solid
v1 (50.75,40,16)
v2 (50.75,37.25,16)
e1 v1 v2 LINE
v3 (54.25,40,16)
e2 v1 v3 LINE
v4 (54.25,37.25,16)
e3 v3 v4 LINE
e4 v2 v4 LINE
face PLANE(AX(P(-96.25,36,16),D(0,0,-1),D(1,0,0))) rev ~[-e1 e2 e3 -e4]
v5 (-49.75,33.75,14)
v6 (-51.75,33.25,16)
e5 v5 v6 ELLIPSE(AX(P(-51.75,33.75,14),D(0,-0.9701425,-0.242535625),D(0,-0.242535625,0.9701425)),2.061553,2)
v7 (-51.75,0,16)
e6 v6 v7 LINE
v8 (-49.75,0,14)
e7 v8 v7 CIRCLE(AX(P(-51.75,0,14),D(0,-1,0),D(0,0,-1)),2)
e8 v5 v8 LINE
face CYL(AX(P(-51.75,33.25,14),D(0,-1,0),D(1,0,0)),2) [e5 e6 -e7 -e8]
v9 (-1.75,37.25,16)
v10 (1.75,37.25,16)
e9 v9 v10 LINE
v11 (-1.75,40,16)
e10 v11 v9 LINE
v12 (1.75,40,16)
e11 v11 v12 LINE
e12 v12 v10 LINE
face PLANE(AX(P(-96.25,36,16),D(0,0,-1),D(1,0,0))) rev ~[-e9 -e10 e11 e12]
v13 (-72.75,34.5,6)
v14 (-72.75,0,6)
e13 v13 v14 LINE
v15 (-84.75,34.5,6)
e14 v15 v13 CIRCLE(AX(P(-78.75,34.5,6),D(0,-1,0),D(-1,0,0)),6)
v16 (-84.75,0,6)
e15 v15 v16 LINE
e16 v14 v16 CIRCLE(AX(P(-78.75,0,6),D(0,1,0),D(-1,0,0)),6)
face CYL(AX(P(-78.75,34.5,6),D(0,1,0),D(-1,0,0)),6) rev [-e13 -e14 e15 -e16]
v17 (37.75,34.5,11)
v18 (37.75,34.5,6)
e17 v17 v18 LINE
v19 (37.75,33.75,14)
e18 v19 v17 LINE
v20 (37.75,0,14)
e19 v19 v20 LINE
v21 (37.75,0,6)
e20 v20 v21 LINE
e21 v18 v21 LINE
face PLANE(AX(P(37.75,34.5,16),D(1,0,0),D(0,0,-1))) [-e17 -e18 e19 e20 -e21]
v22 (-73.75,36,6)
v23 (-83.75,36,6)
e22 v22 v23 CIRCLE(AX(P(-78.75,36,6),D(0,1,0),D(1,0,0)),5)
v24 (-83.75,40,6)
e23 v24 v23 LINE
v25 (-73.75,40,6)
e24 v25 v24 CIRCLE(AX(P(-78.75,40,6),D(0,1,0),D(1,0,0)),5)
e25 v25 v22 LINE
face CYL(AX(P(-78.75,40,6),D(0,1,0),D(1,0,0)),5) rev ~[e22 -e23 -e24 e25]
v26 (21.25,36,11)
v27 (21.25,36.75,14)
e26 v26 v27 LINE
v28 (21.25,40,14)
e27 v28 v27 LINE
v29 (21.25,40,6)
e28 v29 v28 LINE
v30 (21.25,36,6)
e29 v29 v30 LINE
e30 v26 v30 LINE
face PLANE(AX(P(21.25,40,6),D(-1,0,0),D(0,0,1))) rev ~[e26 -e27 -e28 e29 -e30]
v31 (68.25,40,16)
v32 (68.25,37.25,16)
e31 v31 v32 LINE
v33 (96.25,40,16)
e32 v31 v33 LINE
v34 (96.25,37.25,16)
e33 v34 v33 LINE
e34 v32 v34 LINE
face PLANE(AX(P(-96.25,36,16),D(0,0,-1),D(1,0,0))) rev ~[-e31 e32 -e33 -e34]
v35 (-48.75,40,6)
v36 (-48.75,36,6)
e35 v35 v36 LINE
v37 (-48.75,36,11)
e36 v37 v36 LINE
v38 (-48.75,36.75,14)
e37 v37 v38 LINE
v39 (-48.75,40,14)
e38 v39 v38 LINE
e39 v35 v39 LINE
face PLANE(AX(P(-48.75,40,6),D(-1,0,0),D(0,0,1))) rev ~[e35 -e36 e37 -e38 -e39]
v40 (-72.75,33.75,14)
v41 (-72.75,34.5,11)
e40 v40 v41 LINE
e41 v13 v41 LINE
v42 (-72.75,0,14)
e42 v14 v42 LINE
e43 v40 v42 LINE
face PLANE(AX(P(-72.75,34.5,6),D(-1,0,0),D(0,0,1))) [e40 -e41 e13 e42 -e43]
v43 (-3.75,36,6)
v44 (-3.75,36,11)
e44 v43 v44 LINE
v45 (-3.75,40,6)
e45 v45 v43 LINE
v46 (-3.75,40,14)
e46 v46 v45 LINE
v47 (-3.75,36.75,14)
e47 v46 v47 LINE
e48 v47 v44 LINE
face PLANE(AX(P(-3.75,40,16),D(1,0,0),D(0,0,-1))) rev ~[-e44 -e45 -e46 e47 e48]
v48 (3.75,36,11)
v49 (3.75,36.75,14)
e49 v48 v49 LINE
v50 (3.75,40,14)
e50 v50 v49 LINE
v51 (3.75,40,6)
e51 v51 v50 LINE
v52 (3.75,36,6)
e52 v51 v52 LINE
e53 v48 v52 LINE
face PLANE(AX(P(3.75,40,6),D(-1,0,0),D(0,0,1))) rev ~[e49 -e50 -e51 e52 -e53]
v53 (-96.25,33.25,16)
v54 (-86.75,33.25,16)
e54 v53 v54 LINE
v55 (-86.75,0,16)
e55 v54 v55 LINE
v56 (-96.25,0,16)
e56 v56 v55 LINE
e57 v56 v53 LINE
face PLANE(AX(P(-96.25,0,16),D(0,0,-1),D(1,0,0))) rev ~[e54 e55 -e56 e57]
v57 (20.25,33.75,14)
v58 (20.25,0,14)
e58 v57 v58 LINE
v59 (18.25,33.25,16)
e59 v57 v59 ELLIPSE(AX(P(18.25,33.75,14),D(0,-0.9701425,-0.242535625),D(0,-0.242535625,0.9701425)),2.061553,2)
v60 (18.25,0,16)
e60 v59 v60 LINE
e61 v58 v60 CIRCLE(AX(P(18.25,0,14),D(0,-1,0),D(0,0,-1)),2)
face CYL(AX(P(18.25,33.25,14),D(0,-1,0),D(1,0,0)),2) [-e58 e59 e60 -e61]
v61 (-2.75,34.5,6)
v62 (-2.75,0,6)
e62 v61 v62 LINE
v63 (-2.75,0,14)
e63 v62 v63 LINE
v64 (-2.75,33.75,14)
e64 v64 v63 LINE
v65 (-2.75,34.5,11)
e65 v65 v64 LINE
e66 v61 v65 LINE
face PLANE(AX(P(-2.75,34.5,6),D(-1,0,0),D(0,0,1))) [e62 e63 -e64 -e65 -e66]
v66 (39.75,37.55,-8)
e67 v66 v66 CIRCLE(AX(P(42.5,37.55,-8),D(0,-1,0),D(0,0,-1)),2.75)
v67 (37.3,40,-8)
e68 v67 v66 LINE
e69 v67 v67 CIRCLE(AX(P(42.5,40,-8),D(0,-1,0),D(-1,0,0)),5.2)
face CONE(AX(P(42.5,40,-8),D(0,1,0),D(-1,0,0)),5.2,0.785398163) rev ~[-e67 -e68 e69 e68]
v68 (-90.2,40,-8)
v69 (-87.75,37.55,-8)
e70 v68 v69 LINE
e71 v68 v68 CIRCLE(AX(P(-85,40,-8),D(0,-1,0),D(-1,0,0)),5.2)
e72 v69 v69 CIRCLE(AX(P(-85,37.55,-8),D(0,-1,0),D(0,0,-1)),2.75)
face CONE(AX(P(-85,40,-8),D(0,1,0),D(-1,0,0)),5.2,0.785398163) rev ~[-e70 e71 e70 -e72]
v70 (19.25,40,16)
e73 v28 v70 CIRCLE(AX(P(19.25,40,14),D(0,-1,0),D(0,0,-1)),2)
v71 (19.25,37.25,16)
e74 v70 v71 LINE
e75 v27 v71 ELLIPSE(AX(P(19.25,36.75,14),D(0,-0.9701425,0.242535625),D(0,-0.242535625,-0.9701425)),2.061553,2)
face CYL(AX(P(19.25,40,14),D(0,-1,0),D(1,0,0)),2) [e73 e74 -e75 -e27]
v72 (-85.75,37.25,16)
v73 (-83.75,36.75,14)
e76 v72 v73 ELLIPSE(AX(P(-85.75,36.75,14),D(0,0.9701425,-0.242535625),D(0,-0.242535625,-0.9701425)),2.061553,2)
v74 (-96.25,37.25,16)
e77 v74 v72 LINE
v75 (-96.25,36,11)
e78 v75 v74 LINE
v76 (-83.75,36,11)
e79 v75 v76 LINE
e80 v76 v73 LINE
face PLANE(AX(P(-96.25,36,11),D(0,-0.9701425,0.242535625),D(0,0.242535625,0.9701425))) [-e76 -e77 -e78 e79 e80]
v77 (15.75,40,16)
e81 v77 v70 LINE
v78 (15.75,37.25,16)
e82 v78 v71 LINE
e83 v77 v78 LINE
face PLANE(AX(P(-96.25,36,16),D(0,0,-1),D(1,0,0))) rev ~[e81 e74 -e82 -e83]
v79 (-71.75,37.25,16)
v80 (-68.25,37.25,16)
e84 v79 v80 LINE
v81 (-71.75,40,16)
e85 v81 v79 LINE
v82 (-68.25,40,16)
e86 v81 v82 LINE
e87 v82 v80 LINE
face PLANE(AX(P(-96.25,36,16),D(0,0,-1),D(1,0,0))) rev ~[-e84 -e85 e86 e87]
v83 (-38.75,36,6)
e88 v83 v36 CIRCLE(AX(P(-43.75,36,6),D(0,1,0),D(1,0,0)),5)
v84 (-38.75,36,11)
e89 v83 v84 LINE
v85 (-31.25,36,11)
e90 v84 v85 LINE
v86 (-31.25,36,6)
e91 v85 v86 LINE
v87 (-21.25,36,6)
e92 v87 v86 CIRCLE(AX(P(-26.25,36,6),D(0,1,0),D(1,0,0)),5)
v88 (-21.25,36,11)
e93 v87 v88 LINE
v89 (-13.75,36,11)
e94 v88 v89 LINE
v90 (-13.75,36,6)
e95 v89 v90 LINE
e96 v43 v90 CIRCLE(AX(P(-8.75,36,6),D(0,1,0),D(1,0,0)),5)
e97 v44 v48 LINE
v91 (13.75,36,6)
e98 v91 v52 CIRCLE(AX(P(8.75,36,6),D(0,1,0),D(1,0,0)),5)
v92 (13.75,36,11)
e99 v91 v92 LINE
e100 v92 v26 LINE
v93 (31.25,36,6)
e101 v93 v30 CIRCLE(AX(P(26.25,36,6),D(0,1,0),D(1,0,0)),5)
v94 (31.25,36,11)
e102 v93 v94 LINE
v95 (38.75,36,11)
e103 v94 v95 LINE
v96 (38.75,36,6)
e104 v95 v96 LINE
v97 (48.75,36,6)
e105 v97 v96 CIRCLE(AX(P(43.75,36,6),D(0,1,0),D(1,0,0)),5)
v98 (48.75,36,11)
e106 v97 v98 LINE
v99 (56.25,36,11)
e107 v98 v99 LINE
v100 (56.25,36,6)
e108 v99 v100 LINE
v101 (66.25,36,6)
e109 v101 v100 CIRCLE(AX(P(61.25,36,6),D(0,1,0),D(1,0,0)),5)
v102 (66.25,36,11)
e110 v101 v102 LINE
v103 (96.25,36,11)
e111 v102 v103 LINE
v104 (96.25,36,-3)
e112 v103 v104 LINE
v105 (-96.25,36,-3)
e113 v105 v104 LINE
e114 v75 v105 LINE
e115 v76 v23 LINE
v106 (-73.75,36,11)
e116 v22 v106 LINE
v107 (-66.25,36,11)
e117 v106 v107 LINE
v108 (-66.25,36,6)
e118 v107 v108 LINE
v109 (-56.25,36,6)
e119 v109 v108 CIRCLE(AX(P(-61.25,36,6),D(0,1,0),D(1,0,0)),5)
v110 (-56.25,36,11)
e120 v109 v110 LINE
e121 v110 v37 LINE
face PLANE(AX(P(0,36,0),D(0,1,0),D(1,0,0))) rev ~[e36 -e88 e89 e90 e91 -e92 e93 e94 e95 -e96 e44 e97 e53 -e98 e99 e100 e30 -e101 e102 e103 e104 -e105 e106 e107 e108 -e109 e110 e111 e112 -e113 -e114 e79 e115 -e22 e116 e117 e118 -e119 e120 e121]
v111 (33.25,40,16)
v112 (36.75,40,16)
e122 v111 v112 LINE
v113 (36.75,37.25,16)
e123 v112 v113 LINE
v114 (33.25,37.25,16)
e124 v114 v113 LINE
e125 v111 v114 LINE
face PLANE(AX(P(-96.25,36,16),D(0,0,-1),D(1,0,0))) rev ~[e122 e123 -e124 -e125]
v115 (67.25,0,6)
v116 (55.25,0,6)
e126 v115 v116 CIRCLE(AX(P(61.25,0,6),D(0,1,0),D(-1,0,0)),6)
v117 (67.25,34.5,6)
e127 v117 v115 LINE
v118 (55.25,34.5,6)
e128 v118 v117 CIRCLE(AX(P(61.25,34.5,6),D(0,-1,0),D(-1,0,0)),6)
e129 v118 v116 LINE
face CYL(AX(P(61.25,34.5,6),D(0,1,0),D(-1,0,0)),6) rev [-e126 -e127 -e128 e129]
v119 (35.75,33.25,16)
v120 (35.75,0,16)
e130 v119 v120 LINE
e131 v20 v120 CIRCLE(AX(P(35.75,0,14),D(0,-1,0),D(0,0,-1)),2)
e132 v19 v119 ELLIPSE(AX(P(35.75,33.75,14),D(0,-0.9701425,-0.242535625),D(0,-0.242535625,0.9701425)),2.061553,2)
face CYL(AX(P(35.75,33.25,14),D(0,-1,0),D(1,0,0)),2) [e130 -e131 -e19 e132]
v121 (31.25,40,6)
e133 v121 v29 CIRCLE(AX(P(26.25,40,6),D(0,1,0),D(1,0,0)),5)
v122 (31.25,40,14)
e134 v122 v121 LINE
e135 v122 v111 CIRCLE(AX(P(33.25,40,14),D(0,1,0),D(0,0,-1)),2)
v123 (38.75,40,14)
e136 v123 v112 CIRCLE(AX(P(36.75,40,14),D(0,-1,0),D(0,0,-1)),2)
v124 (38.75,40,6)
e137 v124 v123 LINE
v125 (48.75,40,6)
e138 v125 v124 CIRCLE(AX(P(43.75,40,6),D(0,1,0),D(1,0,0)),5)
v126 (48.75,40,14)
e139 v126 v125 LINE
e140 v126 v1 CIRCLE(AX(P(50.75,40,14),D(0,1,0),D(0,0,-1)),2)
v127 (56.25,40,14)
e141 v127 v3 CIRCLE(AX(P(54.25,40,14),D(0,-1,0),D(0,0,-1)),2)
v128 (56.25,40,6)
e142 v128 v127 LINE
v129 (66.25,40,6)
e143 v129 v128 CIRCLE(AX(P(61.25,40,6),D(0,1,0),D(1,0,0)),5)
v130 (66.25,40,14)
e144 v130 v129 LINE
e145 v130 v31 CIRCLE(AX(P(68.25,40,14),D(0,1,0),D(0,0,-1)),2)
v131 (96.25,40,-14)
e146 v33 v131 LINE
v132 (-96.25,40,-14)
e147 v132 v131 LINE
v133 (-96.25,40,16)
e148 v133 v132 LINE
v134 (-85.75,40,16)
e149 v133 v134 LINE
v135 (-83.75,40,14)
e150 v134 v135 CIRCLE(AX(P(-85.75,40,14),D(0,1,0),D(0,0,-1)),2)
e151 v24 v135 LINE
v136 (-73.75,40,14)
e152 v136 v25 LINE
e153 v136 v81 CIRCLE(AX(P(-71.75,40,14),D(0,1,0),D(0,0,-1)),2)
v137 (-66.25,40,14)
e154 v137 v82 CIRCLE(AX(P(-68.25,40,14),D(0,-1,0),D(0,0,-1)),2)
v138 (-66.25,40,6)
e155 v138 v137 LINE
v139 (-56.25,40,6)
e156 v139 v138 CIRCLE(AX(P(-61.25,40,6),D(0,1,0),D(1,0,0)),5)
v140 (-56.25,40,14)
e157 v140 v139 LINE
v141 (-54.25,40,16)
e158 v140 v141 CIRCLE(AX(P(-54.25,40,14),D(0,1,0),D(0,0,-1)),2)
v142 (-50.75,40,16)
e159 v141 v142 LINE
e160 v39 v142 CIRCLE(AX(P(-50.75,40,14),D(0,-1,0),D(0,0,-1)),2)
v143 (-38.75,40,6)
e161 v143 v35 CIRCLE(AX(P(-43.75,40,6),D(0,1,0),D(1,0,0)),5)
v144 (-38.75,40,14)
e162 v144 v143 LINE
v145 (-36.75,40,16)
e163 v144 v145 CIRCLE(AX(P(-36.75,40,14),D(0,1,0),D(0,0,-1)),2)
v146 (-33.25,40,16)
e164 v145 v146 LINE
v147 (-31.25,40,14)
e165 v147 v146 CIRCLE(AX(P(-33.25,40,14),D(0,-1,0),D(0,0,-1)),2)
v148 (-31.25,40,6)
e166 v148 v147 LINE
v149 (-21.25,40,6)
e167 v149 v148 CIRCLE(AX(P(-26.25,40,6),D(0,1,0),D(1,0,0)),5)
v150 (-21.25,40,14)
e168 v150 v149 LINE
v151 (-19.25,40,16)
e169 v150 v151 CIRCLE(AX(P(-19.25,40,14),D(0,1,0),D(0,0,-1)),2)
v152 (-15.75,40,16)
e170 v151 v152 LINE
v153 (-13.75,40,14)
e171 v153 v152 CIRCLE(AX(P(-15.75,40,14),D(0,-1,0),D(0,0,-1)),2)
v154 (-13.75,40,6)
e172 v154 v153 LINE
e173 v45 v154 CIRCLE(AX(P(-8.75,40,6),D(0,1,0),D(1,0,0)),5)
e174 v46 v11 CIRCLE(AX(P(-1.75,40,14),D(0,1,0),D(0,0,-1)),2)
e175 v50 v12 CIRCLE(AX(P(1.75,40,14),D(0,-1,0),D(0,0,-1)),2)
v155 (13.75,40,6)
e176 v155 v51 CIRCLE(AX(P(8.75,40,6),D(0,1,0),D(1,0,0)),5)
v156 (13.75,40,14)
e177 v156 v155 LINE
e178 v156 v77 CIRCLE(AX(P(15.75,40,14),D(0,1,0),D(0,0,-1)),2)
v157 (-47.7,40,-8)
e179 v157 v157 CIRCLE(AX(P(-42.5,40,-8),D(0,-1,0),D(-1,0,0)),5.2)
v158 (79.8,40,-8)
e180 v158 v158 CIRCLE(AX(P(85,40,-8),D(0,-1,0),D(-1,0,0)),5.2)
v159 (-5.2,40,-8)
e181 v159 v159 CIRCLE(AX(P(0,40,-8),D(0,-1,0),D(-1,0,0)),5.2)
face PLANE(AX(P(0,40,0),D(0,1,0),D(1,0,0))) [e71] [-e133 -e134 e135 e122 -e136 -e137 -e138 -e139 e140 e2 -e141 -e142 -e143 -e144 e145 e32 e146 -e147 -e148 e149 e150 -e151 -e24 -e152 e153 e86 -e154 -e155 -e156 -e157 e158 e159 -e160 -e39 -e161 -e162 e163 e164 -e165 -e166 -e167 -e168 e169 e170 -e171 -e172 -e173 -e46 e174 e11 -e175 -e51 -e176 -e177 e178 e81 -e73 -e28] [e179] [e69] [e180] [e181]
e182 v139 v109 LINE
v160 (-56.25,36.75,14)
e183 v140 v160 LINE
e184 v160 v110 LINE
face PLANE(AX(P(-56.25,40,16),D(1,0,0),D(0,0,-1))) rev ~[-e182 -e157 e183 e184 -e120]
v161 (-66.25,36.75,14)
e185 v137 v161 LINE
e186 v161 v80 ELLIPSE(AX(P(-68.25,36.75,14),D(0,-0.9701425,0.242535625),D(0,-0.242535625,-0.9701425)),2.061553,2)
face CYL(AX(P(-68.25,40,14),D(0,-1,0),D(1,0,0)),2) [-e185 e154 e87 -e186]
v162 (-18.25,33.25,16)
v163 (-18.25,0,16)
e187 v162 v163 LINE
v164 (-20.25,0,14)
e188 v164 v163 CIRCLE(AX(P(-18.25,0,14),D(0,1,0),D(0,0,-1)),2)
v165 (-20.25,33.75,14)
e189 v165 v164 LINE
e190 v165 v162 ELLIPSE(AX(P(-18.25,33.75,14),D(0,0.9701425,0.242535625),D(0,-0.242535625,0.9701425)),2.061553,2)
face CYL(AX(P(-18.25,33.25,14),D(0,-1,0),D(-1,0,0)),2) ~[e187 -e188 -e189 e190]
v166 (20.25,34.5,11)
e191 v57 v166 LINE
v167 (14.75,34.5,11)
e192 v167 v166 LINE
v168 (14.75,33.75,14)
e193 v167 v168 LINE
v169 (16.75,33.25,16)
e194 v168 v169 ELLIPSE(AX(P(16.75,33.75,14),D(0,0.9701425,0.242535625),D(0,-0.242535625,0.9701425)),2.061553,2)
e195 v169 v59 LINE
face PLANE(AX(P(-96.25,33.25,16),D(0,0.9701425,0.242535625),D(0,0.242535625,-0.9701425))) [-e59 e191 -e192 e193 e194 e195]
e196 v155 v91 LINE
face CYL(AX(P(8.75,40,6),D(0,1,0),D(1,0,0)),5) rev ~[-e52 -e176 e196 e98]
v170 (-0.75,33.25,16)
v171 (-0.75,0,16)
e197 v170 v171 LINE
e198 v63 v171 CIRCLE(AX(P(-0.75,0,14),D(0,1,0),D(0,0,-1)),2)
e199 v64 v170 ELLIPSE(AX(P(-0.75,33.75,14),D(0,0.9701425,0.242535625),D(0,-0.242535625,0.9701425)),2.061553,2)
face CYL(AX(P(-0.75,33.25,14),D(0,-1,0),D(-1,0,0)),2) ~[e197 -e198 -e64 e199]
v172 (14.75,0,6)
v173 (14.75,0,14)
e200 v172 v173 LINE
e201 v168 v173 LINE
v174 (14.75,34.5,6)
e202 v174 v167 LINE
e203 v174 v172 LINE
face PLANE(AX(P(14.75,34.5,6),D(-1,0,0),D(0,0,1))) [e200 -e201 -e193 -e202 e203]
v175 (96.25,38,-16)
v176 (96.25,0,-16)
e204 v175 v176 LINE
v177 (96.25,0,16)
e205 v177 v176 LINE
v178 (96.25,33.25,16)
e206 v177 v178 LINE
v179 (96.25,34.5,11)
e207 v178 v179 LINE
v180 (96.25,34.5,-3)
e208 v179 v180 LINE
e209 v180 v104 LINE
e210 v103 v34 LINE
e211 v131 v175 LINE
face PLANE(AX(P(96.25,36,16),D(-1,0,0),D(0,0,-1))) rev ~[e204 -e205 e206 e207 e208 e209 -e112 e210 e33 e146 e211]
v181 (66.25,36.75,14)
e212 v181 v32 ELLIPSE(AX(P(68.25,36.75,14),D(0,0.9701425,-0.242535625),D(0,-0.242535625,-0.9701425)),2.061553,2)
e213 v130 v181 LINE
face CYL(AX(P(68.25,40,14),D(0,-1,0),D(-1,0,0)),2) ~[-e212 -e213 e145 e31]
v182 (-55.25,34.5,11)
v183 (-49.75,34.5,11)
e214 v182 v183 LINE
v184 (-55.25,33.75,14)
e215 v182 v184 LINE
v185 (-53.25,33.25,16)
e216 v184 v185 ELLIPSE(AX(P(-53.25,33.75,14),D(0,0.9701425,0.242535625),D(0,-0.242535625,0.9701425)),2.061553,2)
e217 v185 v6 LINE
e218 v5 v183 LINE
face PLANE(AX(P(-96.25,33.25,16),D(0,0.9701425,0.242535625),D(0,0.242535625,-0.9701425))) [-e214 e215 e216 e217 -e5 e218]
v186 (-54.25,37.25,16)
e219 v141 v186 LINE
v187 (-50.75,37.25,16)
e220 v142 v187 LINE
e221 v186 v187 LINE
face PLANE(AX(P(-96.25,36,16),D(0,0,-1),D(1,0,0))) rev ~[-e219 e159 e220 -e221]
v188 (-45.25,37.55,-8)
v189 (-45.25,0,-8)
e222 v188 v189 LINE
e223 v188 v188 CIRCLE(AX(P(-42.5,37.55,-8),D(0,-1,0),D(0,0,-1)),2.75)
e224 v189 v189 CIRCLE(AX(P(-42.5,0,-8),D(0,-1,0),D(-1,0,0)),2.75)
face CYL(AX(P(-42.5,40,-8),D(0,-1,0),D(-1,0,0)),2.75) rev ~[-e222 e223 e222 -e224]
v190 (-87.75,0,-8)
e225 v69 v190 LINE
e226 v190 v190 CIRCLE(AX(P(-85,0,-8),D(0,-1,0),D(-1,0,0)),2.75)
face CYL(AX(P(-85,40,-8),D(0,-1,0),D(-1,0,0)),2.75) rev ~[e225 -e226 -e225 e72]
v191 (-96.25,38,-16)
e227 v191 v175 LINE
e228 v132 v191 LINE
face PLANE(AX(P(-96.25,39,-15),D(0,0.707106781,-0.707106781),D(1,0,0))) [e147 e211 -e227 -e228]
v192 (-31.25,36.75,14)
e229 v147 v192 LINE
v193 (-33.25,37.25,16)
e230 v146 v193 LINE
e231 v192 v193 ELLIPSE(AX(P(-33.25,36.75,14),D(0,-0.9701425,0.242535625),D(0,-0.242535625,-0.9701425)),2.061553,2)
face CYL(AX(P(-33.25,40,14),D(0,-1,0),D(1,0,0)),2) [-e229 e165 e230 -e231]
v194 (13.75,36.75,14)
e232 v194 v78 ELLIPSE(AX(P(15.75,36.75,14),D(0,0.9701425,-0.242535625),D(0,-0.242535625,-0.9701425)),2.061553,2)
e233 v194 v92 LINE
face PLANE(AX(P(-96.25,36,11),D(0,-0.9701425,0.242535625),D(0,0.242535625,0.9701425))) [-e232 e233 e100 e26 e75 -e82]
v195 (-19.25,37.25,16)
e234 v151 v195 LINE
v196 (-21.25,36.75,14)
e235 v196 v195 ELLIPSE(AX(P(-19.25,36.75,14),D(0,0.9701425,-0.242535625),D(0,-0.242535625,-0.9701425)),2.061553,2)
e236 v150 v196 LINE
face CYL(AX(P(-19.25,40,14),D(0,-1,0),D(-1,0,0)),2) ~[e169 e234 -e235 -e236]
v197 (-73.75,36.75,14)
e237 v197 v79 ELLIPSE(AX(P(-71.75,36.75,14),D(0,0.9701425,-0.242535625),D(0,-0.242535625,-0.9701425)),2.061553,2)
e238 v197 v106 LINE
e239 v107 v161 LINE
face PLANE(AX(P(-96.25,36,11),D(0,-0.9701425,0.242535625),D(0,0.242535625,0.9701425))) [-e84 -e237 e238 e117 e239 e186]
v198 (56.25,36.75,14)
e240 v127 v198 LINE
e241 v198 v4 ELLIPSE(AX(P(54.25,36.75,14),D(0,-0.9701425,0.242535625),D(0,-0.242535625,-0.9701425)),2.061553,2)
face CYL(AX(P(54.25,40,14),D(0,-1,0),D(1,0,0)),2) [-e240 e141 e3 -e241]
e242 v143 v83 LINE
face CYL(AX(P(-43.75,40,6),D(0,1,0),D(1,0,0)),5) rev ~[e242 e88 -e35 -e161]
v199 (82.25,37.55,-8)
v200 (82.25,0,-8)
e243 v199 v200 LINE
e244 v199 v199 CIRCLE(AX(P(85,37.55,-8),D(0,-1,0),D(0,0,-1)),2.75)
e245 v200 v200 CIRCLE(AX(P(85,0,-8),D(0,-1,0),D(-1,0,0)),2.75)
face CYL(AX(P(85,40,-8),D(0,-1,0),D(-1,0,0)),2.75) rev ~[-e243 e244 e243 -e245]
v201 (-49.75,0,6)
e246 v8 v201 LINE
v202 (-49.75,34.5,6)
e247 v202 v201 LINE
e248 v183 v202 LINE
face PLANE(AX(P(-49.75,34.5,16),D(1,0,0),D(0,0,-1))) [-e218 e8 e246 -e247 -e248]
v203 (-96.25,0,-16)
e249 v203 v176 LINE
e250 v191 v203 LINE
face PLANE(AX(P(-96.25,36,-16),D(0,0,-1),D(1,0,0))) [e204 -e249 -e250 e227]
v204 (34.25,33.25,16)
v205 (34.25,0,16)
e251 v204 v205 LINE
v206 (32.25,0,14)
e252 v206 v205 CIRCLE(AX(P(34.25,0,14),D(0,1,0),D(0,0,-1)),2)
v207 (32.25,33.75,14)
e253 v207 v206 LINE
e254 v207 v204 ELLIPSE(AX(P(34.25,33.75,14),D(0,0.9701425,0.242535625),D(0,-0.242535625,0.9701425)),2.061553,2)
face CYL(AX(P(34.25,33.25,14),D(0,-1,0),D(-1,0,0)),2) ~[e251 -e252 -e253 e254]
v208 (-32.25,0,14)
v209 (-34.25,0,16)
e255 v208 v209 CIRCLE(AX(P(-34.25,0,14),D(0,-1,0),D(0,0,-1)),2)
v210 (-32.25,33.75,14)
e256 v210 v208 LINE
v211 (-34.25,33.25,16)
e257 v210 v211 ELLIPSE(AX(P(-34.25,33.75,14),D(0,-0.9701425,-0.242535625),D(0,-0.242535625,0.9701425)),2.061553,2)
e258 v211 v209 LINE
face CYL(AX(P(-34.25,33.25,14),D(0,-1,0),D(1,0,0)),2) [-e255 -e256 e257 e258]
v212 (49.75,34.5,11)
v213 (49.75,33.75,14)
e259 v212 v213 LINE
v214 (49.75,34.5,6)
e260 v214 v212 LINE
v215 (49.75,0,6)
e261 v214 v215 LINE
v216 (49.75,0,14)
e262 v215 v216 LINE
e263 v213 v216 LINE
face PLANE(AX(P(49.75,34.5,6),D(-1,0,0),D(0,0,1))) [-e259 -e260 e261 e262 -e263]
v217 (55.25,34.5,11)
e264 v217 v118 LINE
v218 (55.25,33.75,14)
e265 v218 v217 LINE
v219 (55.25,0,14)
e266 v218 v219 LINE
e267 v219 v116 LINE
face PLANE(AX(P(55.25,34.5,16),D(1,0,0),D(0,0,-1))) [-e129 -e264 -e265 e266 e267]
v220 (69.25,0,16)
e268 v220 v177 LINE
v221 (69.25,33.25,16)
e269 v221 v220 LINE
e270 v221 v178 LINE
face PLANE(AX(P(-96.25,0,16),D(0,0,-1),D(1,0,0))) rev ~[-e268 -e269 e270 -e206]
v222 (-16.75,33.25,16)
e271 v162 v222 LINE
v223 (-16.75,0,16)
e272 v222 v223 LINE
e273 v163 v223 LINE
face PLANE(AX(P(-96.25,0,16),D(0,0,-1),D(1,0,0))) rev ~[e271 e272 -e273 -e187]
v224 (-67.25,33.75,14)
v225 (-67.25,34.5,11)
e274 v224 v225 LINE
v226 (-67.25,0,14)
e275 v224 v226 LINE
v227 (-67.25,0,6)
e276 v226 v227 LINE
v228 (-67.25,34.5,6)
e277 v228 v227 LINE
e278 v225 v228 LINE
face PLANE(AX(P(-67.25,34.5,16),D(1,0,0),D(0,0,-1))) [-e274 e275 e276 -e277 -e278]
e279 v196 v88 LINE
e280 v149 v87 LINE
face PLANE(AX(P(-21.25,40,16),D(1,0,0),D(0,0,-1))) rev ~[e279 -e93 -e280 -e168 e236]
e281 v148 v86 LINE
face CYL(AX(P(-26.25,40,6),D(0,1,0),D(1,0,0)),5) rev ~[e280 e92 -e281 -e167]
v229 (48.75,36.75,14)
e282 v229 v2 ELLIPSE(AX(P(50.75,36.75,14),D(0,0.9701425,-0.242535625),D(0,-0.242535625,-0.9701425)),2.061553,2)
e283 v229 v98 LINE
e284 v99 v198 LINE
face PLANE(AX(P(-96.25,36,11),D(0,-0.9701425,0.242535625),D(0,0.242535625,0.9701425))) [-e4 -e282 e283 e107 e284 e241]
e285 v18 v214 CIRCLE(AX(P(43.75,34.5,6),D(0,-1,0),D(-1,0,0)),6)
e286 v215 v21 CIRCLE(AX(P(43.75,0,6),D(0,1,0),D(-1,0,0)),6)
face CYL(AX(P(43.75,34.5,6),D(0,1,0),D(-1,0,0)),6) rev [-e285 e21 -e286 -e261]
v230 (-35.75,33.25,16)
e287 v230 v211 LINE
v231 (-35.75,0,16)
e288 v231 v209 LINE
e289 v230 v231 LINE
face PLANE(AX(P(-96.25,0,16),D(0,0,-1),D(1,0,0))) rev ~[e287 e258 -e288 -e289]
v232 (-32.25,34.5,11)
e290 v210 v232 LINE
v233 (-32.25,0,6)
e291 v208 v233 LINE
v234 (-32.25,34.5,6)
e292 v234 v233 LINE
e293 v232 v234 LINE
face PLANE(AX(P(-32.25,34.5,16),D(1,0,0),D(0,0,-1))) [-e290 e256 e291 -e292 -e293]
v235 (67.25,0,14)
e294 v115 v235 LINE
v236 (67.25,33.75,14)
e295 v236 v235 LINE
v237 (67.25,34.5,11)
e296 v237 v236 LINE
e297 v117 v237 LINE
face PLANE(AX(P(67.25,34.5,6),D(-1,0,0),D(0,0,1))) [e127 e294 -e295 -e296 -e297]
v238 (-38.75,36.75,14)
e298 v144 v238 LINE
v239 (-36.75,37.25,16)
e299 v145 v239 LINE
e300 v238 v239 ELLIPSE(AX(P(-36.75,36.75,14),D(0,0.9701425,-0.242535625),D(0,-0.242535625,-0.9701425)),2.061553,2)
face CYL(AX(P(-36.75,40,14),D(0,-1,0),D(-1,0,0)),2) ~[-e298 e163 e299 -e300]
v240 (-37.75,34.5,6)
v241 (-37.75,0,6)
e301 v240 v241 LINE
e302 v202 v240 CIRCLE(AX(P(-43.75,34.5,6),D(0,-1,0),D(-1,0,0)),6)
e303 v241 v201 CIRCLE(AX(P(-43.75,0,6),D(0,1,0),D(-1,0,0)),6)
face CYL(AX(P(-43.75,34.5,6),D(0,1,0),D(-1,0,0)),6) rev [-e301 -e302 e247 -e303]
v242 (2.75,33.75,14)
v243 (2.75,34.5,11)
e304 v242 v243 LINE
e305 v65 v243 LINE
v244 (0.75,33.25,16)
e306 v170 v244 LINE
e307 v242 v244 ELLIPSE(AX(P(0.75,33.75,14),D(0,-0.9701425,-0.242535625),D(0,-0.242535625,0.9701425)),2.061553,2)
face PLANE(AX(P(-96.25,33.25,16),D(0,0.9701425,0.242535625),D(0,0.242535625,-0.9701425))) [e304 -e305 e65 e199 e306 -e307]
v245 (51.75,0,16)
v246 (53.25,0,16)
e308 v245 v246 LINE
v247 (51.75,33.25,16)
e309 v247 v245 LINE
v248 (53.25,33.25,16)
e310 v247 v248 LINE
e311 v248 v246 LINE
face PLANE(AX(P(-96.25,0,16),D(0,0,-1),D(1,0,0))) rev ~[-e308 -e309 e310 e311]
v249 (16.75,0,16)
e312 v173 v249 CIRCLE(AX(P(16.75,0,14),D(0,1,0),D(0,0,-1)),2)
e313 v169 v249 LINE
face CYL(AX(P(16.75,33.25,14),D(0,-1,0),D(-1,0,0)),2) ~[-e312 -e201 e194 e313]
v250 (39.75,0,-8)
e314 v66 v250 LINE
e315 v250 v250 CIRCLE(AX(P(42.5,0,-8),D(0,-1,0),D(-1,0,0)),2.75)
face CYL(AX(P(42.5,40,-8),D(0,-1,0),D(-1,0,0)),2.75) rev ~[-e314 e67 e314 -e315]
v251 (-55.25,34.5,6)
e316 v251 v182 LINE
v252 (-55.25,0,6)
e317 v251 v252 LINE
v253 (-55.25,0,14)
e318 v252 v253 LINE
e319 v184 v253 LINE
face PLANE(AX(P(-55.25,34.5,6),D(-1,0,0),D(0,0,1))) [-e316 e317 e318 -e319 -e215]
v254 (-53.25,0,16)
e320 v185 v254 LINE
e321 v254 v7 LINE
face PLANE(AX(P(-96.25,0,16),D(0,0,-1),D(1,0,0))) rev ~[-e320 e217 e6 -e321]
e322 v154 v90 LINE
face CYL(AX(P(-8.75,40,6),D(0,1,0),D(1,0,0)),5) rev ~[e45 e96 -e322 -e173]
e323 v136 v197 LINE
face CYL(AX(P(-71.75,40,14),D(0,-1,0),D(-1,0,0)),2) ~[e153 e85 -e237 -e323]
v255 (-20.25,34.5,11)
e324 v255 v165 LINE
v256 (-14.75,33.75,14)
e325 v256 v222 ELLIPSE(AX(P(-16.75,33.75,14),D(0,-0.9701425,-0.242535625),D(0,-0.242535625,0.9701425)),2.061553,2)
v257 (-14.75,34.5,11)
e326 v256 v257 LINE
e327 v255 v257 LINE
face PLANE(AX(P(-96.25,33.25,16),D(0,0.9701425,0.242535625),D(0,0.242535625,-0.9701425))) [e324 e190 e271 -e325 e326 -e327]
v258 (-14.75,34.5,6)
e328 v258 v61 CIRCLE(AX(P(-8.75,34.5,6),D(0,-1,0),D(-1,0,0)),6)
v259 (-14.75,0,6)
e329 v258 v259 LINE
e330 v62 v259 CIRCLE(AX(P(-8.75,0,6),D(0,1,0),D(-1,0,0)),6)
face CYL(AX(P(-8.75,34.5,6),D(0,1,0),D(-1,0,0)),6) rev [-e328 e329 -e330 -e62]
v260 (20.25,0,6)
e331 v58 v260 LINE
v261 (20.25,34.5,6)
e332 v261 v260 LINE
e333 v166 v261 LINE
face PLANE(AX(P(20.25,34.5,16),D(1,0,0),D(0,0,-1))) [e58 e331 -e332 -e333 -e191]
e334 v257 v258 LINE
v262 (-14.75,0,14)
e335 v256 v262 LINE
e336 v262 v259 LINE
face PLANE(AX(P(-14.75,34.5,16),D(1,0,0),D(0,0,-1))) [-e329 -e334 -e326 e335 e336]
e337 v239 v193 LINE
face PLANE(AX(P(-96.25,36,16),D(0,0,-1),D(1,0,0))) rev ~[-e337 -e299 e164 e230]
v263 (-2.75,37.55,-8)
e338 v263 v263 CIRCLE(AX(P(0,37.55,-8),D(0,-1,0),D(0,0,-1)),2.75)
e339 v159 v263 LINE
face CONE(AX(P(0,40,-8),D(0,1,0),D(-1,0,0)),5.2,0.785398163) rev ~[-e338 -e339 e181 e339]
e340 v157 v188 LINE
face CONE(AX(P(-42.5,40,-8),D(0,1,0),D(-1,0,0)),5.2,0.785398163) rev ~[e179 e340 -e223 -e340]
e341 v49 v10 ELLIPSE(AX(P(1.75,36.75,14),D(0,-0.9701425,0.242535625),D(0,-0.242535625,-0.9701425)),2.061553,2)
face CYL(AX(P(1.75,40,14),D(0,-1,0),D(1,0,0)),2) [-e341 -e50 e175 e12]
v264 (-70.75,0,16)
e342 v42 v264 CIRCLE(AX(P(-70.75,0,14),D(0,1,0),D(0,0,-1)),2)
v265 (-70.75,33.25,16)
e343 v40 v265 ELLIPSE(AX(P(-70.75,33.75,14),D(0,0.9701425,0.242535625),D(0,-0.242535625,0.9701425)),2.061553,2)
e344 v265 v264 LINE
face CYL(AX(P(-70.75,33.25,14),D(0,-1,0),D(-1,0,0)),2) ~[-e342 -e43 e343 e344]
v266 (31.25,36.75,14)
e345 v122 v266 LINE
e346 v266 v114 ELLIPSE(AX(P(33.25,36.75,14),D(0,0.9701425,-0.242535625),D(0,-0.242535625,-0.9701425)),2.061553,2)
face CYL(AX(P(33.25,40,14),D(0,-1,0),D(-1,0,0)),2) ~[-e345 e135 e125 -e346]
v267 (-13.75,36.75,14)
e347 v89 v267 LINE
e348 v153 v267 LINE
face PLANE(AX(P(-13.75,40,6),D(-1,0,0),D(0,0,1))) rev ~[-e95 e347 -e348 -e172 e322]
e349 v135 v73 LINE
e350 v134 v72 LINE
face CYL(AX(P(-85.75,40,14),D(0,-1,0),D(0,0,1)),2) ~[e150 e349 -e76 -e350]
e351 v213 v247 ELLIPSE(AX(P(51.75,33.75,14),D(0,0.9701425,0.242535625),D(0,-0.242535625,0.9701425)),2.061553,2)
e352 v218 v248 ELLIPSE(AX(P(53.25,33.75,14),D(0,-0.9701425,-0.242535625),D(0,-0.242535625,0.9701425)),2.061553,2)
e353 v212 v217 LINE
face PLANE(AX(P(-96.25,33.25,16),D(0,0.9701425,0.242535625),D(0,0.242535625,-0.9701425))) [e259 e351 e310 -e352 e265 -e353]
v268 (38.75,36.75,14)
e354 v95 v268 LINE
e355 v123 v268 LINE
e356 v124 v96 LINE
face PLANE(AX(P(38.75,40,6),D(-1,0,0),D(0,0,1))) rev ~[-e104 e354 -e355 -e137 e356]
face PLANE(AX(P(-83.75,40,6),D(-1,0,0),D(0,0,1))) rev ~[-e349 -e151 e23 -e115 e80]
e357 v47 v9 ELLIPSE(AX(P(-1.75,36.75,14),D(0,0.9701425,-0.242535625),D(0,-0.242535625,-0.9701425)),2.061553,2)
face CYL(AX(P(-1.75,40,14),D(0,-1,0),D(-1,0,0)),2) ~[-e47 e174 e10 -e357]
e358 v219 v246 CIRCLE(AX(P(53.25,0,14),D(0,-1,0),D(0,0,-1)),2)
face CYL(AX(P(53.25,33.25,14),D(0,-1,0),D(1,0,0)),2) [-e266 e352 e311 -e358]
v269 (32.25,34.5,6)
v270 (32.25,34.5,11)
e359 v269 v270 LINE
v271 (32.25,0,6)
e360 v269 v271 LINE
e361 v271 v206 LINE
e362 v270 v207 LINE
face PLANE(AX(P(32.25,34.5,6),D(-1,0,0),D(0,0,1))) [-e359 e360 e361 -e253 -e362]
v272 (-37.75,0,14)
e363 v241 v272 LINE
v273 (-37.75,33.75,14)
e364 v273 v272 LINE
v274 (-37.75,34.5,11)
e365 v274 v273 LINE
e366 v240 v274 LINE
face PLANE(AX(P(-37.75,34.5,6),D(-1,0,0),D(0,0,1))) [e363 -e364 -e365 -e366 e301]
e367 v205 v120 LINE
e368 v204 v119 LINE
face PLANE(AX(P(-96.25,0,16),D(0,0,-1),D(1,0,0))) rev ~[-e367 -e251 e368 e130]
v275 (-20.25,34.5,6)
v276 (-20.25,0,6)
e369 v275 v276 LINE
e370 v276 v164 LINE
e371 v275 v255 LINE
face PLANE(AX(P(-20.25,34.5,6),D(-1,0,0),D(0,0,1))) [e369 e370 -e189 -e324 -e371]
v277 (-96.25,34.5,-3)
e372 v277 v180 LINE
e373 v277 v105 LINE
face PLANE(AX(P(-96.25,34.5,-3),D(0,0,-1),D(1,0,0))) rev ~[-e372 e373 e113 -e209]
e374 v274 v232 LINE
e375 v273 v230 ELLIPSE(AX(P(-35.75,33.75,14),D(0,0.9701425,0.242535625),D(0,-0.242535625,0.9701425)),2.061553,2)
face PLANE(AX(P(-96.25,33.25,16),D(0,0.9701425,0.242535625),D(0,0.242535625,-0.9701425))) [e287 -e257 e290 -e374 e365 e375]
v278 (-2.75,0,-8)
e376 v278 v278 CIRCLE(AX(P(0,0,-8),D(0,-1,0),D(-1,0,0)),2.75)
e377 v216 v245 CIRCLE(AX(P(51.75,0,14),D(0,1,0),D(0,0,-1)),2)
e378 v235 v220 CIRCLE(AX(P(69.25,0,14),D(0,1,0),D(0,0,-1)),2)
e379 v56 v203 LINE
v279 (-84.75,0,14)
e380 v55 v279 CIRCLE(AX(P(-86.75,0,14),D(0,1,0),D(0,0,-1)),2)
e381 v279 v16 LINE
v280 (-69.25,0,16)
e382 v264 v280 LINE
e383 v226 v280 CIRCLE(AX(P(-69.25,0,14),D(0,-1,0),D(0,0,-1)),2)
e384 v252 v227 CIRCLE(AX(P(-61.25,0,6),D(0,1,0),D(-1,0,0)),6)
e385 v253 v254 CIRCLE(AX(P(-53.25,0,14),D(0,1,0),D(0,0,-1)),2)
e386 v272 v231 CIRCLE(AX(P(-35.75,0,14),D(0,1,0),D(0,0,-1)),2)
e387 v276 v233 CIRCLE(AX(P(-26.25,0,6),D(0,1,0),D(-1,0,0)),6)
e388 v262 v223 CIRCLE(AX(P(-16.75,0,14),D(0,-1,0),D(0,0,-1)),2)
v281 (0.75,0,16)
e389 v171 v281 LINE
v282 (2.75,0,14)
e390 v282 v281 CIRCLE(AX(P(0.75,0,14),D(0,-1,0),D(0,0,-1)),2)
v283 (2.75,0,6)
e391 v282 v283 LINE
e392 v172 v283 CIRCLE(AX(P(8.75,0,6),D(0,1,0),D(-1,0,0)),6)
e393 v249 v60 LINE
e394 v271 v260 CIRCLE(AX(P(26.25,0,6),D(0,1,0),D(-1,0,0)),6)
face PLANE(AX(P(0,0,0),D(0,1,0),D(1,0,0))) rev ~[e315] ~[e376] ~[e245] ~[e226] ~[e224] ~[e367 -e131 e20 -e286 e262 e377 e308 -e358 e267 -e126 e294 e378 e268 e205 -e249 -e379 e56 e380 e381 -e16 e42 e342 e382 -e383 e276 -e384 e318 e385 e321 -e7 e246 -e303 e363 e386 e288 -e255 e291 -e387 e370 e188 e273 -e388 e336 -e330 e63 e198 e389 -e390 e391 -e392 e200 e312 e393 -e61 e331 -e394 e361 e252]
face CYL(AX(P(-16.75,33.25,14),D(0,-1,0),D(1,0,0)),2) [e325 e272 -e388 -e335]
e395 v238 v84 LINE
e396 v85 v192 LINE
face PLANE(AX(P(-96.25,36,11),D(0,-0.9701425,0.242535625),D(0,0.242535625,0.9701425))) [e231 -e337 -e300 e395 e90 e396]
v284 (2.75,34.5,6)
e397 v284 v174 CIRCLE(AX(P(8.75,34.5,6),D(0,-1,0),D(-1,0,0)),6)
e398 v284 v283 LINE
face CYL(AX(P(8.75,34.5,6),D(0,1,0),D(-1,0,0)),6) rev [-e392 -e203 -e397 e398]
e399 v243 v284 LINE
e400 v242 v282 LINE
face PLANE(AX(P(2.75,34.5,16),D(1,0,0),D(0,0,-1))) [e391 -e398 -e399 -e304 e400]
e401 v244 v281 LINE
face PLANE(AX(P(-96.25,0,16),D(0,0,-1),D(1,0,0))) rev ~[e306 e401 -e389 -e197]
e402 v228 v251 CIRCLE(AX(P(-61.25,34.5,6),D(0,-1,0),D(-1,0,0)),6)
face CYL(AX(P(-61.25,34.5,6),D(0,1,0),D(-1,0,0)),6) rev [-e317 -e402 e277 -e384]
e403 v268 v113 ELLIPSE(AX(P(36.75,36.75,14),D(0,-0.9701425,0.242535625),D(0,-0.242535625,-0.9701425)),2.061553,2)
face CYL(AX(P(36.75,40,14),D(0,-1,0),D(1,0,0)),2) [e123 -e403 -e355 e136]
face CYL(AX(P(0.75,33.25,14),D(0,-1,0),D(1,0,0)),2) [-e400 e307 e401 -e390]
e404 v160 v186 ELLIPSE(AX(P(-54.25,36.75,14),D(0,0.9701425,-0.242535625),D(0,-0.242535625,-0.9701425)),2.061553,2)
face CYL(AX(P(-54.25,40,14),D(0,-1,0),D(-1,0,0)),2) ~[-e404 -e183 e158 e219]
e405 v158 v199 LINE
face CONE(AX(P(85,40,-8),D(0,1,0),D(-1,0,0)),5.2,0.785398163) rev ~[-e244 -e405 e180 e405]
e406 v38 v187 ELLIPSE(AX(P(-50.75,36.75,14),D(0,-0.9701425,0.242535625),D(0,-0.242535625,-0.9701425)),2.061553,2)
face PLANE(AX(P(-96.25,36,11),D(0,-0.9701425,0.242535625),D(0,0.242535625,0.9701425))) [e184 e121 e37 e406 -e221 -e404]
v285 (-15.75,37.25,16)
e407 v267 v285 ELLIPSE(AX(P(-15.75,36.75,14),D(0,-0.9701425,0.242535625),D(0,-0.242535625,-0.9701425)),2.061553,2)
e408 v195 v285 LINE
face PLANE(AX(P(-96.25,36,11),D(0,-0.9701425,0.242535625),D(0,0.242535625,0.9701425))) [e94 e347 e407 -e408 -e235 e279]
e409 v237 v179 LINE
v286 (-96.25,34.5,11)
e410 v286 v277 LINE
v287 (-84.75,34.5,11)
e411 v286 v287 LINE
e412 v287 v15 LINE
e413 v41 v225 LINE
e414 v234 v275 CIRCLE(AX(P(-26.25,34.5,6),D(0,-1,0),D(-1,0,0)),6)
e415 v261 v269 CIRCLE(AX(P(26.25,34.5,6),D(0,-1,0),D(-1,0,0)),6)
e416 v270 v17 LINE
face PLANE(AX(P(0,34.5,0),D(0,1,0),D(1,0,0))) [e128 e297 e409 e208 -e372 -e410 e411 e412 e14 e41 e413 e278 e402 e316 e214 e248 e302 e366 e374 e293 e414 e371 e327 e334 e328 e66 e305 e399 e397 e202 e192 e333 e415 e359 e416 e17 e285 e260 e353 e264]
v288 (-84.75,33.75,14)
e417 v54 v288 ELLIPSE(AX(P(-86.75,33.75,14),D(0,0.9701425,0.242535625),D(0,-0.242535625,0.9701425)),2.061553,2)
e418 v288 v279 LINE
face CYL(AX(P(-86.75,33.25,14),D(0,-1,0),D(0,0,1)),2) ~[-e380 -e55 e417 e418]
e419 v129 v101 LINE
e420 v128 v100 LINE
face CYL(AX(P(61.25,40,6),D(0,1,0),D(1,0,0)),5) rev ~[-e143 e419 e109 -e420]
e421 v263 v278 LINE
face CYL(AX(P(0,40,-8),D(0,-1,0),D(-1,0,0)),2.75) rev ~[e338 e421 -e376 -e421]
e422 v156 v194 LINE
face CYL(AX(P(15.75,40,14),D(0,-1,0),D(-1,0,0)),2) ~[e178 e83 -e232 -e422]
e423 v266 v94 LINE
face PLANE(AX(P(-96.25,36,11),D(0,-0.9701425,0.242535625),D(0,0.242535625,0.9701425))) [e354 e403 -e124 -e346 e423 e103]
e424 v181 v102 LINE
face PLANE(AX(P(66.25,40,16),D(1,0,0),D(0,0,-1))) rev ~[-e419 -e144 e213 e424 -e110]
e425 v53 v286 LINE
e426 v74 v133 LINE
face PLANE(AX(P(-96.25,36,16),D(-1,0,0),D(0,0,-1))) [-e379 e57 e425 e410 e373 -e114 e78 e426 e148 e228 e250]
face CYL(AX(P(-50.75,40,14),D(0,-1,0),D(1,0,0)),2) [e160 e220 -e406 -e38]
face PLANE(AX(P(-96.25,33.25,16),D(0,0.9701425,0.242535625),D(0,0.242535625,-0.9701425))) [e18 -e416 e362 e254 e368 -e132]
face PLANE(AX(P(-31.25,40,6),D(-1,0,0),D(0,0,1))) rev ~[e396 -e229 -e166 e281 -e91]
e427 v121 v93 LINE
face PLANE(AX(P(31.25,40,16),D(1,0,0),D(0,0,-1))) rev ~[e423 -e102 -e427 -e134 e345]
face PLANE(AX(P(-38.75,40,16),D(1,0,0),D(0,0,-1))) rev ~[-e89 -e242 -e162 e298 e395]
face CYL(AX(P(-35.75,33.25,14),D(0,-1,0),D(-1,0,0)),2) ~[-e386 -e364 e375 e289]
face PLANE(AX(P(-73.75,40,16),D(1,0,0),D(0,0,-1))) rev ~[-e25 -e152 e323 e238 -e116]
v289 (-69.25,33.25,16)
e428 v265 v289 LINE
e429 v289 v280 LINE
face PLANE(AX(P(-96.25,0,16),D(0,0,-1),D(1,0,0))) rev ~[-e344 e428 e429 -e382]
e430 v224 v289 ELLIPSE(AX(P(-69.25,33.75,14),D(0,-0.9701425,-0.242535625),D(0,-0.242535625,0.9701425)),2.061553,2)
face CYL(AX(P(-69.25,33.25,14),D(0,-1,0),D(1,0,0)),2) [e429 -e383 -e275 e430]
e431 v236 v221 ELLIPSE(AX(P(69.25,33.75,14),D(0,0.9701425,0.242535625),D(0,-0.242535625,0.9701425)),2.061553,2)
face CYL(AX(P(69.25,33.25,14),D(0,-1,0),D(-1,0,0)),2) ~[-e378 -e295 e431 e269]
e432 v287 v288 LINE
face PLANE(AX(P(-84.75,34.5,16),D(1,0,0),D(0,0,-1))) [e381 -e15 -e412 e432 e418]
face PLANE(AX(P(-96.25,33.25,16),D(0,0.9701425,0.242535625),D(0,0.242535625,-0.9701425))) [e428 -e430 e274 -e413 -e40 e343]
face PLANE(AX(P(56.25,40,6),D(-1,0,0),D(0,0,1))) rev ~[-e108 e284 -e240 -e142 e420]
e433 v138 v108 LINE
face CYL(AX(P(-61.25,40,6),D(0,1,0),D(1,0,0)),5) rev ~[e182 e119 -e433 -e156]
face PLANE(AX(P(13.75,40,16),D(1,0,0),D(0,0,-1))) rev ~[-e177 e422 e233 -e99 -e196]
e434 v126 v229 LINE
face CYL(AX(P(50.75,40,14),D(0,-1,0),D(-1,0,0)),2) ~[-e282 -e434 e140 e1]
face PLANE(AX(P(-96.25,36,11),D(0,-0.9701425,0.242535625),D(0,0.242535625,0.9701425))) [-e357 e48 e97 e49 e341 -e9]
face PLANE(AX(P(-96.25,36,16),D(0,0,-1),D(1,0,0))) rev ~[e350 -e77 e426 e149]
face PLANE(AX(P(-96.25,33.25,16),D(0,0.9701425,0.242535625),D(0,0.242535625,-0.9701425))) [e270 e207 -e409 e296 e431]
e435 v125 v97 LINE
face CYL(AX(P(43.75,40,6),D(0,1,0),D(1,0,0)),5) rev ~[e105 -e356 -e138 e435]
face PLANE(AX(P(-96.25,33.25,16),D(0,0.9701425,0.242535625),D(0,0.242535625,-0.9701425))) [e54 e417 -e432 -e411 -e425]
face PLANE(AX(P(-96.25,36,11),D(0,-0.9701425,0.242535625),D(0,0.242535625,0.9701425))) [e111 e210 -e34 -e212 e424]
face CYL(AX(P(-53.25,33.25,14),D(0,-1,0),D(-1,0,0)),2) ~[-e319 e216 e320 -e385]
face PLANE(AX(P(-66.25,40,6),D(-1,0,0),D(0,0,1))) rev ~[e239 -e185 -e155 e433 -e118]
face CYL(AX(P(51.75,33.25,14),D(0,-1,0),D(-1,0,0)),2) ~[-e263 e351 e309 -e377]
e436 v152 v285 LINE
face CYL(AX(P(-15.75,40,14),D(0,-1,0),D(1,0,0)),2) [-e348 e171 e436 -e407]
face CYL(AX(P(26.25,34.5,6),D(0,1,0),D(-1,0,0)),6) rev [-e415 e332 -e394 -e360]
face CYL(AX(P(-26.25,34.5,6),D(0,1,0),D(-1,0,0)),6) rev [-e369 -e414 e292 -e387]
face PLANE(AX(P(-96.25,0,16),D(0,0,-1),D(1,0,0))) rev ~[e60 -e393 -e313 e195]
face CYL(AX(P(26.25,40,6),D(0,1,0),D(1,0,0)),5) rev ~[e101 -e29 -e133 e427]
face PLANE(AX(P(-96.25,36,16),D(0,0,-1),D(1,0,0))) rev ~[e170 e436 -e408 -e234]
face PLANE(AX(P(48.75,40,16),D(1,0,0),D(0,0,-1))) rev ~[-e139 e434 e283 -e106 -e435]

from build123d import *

# Parameters (mm, degrees)
SKETCH_1_W                         = 192.5
SKETCH_1_H                         = 32
EXTRUDE_286_DEPTH                  = 34.5
SKETCH_4_W                         = 192.5
SKETCH_4_H                         = 13
EXTRUDE_1152_DEPTH                 = 1.5
CUT_EXTRUDE_1403_DEPTH             = 104.490639673
SKETCH_5_W                         = 192.5
SKETCH_5_H                         = 32
EXTRUDE_1554_DEPTH                 = 4
CUT_EXTRUDE_1876_DEPTH             = 198.261881771
CUT_EXTRUDE_2071_REACH             = 107.452
CUT_EXTRUDE_2071_DIRECTION_2_DEPTH = 106.451706956
FILLET_1_R                         = 2
PATTERN_LINEAR_1_COUNT             = 9
PATTERN_LINEAR_1_PITCH             = 17.5
FILLET_1_OF_PATTERN_LINEAR_1_R     = 2
HOLE_WIZARD_M5_D                   = 5.5
HOLE_WIZARD_M5_CSINK_D             = 10.4
HOLE_WIZARD_M5_CSINK_ANGLE         = 90
CHAMFER_1_SIZE                     = 2


with BuildPart() as part:
    # Эскиз1 → Extrude 286 (new body)
    with BuildSketch(Plane(origin=(0, 0, 0), x_dir=(1, 0, 0), z_dir=(0, 1, 0))):
        Rectangle(SKETCH_1_W, SKETCH_1_H)
    extrude(amount=EXTRUDE_286_DEPTH)

    # Эскиз4 → Extrude 1152 (add)
    with BuildSketch(Plane(origin=(0, 34.5, 0), x_dir=(1, 0, 0), z_dir=(0, 1, 0))):
        with Locations((0, 9.5)):
            Rectangle(SKETCH_4_W, SKETCH_4_H)
    extrude(amount=EXTRUDE_1152_DEPTH)

    # Эскиз2 → Cut-Extrude 1403 (cut, through all)
    with BuildSketch(Plane(origin=(0, 34.5, 0), x_dir=(1, 0, 0), z_dir=(0, 1, 0))):
        with BuildLine():
            Line((-84.75, -16), (-84.75, -6))
            ThreePointArc((-84.75, -6), (-78.75, 0), (-72.75, -6))
            Line((-72.75, -6), (-72.75, -16))
            Line((-72.75, -16), (-84.75, -16))
        make_face()
    cut_extrude_1403 = extrude(amount=-CUT_EXTRUDE_1403_DEPTH, mode=Mode.SUBTRACT)

    # Эскиз5 → Extrude 1554 (add)
    with BuildSketch(Plane(origin=(0, 36, 0), x_dir=(1, 0, 0), z_dir=(0, 1, 0))):
        Rectangle(SKETCH_5_W, SKETCH_5_H)
    extrude(amount=EXTRUDE_1554_DEPTH)

    # Эскиз3 → Cut-Extrude 1876 (cut, through all)
    with BuildSketch(Plane.ZY.offset(96.25)):
        Polygon((16, 33.25), (11, 34.5), (11, 36), (16, 37.25), align=None)
    extrude(amount=-CUT_EXTRUDE_1876_DEPTH, mode=Mode.SUBTRACT)

    # Эскиз7 → Cut-Extrude 2071 (cut, up to next)
    with BuildSketch(Plane(origin=(0, 40, 0), x_dir=(1, 0, 0), z_dir=(0, 1, 0)), mode=Mode.PRIVATE) as cut_extrude_2071_sk1:
        with BuildLine():
            Line((-83.75, -6), (-83.75, -16))
            Line((-83.75, -16), (-73.75, -16))
            Line((-73.75, -16), (-73.75, -6))
            ThreePointArc((-73.75, -6), (-78.75, -1), (-83.75, -6))
        make_face()
    cut_extrude_2071_tool1 = extrude(cut_extrude_2071_sk1.sketch, amount=-CUT_EXTRUDE_2071_REACH, mode=Mode.PRIVATE) & part.part
    cut_extrude_2071 = cut_extrude_2071_tool1.solids().sort_by_distance((-78.75, 40, 8.991792))[0]
    add(cut_extrude_2071, mode=Mode.SUBTRACT)

    # Эскиз7 → Cut-Extrude 2071 direction 2 (cut)
    with BuildSketch(Plane(origin=(0, 40, 0), x_dir=(1, 0, 0), z_dir=(0, 1, 0))):
        with BuildLine():
            Line((-83.75, -6), (-83.75, -16))
            Line((-83.75, -16), (-73.75, -16))
            Line((-73.75, -16), (-73.75, -6))
            ThreePointArc((-73.75, -6), (-78.75, -1), (-83.75, -6))
        make_face()
    cut_extrude_2071_direction_2 = extrude(amount=CUT_EXTRUDE_2071_DIRECTION_2_DEPTH, mode=Mode.SUBTRACT)

    # Скругление1
    fillet_1_edges = [part.edges().sort_by_distance(p)[0] for p in [
        (-72.75, 16.625, 16),
        (-84.75, 16.625, 16),
        (-83.75, 38.625, 16),
        (-73.75, 38.625, 16),
    ]]
    fillet(fillet_1_edges, radius=FILLET_1_R)

    # Линейный массив1: Cut-Extrude 1403, Cut-Extrude 2071, Cut-Extrude 2071 direction 2 ×9
    with Locations(*[(i * PATTERN_LINEAR_1_PITCH, 0, 0) for i in range(1, PATTERN_LINEAR_1_COUNT)]):
        add(cut_extrude_1403, mode=Mode.SUBTRACT)
        add(cut_extrude_2071, mode=Mode.SUBTRACT)
        add(cut_extrude_2071_direction_2, mode=Mode.SUBTRACT)

    # Скругление1 of Линейный массив1
    fillet_1_of_pattern_linear_1_edges = [part.edges().sort_by_distance(p)[0] for p in [
        (-55.25, 16.625, 16),
        (-67.25, 16.625, 16),
        (-66.25, 38.625, 16),
        (-56.25, 38.625, 16),
        (-37.75, 16.625, 16),
        (-49.75, 16.625, 16),
        (-48.75, 38.625, 16),
        (-38.75, 38.625, 16),
        (-20.25, 16.625, 16),
        (-32.25, 16.625, 16),
        (-31.25, 38.625, 16),
        (-21.25, 38.625, 16),
        (-2.75, 16.625, 16),
        (-14.75, 16.625, 16),
        (-13.75, 38.625, 16),
        (-3.75, 38.625, 16),
        (14.75, 16.625, 16),
        (2.75, 16.625, 16),
        (3.75, 38.625, 16),
        (13.75, 38.625, 16),
        (32.25, 16.625, 16),
        (20.25, 16.625, 16),
        (21.25, 38.625, 16),
        (31.25, 38.625, 16),
        (49.75, 16.625, 16),
        (37.75, 16.625, 16),
        (38.75, 38.625, 16),
        (48.75, 38.625, 16),
        (67.25, 16.625, 16),
        (55.25, 16.625, 16),
        (56.25, 38.625, 16),
        (66.25, 38.625, 16),
    ]]
    fillet(fillet_1_of_pattern_linear_1_edges, radius=FILLET_1_OF_PATTERN_LINEAR_1_R)

    # Крепление - M5 (through all)
    with Locations(Plane(origin=(0, 40, 0), x_dir=(1, 0, 0), z_dir=(0, 1, 0))):
        with Locations((-85, 8), (0, 8), (85, 8), (42.5, 8), (-42.5, 8)):
            CounterSinkHole(HOLE_WIZARD_M5_D / 2, HOLE_WIZARD_M5_CSINK_D / 2, counter_sink_angle=HOLE_WIZARD_M5_CSINK_ANGLE)

    # Фаска1
    chamfer_1_edges = [part.edges().sort_by_distance(p)[0] for p in [
        (0, 40, -16),
    ]]
    chamfer(chamfer_1_edges, length=CHAMFER_1_SIZE)


solid = part.part
